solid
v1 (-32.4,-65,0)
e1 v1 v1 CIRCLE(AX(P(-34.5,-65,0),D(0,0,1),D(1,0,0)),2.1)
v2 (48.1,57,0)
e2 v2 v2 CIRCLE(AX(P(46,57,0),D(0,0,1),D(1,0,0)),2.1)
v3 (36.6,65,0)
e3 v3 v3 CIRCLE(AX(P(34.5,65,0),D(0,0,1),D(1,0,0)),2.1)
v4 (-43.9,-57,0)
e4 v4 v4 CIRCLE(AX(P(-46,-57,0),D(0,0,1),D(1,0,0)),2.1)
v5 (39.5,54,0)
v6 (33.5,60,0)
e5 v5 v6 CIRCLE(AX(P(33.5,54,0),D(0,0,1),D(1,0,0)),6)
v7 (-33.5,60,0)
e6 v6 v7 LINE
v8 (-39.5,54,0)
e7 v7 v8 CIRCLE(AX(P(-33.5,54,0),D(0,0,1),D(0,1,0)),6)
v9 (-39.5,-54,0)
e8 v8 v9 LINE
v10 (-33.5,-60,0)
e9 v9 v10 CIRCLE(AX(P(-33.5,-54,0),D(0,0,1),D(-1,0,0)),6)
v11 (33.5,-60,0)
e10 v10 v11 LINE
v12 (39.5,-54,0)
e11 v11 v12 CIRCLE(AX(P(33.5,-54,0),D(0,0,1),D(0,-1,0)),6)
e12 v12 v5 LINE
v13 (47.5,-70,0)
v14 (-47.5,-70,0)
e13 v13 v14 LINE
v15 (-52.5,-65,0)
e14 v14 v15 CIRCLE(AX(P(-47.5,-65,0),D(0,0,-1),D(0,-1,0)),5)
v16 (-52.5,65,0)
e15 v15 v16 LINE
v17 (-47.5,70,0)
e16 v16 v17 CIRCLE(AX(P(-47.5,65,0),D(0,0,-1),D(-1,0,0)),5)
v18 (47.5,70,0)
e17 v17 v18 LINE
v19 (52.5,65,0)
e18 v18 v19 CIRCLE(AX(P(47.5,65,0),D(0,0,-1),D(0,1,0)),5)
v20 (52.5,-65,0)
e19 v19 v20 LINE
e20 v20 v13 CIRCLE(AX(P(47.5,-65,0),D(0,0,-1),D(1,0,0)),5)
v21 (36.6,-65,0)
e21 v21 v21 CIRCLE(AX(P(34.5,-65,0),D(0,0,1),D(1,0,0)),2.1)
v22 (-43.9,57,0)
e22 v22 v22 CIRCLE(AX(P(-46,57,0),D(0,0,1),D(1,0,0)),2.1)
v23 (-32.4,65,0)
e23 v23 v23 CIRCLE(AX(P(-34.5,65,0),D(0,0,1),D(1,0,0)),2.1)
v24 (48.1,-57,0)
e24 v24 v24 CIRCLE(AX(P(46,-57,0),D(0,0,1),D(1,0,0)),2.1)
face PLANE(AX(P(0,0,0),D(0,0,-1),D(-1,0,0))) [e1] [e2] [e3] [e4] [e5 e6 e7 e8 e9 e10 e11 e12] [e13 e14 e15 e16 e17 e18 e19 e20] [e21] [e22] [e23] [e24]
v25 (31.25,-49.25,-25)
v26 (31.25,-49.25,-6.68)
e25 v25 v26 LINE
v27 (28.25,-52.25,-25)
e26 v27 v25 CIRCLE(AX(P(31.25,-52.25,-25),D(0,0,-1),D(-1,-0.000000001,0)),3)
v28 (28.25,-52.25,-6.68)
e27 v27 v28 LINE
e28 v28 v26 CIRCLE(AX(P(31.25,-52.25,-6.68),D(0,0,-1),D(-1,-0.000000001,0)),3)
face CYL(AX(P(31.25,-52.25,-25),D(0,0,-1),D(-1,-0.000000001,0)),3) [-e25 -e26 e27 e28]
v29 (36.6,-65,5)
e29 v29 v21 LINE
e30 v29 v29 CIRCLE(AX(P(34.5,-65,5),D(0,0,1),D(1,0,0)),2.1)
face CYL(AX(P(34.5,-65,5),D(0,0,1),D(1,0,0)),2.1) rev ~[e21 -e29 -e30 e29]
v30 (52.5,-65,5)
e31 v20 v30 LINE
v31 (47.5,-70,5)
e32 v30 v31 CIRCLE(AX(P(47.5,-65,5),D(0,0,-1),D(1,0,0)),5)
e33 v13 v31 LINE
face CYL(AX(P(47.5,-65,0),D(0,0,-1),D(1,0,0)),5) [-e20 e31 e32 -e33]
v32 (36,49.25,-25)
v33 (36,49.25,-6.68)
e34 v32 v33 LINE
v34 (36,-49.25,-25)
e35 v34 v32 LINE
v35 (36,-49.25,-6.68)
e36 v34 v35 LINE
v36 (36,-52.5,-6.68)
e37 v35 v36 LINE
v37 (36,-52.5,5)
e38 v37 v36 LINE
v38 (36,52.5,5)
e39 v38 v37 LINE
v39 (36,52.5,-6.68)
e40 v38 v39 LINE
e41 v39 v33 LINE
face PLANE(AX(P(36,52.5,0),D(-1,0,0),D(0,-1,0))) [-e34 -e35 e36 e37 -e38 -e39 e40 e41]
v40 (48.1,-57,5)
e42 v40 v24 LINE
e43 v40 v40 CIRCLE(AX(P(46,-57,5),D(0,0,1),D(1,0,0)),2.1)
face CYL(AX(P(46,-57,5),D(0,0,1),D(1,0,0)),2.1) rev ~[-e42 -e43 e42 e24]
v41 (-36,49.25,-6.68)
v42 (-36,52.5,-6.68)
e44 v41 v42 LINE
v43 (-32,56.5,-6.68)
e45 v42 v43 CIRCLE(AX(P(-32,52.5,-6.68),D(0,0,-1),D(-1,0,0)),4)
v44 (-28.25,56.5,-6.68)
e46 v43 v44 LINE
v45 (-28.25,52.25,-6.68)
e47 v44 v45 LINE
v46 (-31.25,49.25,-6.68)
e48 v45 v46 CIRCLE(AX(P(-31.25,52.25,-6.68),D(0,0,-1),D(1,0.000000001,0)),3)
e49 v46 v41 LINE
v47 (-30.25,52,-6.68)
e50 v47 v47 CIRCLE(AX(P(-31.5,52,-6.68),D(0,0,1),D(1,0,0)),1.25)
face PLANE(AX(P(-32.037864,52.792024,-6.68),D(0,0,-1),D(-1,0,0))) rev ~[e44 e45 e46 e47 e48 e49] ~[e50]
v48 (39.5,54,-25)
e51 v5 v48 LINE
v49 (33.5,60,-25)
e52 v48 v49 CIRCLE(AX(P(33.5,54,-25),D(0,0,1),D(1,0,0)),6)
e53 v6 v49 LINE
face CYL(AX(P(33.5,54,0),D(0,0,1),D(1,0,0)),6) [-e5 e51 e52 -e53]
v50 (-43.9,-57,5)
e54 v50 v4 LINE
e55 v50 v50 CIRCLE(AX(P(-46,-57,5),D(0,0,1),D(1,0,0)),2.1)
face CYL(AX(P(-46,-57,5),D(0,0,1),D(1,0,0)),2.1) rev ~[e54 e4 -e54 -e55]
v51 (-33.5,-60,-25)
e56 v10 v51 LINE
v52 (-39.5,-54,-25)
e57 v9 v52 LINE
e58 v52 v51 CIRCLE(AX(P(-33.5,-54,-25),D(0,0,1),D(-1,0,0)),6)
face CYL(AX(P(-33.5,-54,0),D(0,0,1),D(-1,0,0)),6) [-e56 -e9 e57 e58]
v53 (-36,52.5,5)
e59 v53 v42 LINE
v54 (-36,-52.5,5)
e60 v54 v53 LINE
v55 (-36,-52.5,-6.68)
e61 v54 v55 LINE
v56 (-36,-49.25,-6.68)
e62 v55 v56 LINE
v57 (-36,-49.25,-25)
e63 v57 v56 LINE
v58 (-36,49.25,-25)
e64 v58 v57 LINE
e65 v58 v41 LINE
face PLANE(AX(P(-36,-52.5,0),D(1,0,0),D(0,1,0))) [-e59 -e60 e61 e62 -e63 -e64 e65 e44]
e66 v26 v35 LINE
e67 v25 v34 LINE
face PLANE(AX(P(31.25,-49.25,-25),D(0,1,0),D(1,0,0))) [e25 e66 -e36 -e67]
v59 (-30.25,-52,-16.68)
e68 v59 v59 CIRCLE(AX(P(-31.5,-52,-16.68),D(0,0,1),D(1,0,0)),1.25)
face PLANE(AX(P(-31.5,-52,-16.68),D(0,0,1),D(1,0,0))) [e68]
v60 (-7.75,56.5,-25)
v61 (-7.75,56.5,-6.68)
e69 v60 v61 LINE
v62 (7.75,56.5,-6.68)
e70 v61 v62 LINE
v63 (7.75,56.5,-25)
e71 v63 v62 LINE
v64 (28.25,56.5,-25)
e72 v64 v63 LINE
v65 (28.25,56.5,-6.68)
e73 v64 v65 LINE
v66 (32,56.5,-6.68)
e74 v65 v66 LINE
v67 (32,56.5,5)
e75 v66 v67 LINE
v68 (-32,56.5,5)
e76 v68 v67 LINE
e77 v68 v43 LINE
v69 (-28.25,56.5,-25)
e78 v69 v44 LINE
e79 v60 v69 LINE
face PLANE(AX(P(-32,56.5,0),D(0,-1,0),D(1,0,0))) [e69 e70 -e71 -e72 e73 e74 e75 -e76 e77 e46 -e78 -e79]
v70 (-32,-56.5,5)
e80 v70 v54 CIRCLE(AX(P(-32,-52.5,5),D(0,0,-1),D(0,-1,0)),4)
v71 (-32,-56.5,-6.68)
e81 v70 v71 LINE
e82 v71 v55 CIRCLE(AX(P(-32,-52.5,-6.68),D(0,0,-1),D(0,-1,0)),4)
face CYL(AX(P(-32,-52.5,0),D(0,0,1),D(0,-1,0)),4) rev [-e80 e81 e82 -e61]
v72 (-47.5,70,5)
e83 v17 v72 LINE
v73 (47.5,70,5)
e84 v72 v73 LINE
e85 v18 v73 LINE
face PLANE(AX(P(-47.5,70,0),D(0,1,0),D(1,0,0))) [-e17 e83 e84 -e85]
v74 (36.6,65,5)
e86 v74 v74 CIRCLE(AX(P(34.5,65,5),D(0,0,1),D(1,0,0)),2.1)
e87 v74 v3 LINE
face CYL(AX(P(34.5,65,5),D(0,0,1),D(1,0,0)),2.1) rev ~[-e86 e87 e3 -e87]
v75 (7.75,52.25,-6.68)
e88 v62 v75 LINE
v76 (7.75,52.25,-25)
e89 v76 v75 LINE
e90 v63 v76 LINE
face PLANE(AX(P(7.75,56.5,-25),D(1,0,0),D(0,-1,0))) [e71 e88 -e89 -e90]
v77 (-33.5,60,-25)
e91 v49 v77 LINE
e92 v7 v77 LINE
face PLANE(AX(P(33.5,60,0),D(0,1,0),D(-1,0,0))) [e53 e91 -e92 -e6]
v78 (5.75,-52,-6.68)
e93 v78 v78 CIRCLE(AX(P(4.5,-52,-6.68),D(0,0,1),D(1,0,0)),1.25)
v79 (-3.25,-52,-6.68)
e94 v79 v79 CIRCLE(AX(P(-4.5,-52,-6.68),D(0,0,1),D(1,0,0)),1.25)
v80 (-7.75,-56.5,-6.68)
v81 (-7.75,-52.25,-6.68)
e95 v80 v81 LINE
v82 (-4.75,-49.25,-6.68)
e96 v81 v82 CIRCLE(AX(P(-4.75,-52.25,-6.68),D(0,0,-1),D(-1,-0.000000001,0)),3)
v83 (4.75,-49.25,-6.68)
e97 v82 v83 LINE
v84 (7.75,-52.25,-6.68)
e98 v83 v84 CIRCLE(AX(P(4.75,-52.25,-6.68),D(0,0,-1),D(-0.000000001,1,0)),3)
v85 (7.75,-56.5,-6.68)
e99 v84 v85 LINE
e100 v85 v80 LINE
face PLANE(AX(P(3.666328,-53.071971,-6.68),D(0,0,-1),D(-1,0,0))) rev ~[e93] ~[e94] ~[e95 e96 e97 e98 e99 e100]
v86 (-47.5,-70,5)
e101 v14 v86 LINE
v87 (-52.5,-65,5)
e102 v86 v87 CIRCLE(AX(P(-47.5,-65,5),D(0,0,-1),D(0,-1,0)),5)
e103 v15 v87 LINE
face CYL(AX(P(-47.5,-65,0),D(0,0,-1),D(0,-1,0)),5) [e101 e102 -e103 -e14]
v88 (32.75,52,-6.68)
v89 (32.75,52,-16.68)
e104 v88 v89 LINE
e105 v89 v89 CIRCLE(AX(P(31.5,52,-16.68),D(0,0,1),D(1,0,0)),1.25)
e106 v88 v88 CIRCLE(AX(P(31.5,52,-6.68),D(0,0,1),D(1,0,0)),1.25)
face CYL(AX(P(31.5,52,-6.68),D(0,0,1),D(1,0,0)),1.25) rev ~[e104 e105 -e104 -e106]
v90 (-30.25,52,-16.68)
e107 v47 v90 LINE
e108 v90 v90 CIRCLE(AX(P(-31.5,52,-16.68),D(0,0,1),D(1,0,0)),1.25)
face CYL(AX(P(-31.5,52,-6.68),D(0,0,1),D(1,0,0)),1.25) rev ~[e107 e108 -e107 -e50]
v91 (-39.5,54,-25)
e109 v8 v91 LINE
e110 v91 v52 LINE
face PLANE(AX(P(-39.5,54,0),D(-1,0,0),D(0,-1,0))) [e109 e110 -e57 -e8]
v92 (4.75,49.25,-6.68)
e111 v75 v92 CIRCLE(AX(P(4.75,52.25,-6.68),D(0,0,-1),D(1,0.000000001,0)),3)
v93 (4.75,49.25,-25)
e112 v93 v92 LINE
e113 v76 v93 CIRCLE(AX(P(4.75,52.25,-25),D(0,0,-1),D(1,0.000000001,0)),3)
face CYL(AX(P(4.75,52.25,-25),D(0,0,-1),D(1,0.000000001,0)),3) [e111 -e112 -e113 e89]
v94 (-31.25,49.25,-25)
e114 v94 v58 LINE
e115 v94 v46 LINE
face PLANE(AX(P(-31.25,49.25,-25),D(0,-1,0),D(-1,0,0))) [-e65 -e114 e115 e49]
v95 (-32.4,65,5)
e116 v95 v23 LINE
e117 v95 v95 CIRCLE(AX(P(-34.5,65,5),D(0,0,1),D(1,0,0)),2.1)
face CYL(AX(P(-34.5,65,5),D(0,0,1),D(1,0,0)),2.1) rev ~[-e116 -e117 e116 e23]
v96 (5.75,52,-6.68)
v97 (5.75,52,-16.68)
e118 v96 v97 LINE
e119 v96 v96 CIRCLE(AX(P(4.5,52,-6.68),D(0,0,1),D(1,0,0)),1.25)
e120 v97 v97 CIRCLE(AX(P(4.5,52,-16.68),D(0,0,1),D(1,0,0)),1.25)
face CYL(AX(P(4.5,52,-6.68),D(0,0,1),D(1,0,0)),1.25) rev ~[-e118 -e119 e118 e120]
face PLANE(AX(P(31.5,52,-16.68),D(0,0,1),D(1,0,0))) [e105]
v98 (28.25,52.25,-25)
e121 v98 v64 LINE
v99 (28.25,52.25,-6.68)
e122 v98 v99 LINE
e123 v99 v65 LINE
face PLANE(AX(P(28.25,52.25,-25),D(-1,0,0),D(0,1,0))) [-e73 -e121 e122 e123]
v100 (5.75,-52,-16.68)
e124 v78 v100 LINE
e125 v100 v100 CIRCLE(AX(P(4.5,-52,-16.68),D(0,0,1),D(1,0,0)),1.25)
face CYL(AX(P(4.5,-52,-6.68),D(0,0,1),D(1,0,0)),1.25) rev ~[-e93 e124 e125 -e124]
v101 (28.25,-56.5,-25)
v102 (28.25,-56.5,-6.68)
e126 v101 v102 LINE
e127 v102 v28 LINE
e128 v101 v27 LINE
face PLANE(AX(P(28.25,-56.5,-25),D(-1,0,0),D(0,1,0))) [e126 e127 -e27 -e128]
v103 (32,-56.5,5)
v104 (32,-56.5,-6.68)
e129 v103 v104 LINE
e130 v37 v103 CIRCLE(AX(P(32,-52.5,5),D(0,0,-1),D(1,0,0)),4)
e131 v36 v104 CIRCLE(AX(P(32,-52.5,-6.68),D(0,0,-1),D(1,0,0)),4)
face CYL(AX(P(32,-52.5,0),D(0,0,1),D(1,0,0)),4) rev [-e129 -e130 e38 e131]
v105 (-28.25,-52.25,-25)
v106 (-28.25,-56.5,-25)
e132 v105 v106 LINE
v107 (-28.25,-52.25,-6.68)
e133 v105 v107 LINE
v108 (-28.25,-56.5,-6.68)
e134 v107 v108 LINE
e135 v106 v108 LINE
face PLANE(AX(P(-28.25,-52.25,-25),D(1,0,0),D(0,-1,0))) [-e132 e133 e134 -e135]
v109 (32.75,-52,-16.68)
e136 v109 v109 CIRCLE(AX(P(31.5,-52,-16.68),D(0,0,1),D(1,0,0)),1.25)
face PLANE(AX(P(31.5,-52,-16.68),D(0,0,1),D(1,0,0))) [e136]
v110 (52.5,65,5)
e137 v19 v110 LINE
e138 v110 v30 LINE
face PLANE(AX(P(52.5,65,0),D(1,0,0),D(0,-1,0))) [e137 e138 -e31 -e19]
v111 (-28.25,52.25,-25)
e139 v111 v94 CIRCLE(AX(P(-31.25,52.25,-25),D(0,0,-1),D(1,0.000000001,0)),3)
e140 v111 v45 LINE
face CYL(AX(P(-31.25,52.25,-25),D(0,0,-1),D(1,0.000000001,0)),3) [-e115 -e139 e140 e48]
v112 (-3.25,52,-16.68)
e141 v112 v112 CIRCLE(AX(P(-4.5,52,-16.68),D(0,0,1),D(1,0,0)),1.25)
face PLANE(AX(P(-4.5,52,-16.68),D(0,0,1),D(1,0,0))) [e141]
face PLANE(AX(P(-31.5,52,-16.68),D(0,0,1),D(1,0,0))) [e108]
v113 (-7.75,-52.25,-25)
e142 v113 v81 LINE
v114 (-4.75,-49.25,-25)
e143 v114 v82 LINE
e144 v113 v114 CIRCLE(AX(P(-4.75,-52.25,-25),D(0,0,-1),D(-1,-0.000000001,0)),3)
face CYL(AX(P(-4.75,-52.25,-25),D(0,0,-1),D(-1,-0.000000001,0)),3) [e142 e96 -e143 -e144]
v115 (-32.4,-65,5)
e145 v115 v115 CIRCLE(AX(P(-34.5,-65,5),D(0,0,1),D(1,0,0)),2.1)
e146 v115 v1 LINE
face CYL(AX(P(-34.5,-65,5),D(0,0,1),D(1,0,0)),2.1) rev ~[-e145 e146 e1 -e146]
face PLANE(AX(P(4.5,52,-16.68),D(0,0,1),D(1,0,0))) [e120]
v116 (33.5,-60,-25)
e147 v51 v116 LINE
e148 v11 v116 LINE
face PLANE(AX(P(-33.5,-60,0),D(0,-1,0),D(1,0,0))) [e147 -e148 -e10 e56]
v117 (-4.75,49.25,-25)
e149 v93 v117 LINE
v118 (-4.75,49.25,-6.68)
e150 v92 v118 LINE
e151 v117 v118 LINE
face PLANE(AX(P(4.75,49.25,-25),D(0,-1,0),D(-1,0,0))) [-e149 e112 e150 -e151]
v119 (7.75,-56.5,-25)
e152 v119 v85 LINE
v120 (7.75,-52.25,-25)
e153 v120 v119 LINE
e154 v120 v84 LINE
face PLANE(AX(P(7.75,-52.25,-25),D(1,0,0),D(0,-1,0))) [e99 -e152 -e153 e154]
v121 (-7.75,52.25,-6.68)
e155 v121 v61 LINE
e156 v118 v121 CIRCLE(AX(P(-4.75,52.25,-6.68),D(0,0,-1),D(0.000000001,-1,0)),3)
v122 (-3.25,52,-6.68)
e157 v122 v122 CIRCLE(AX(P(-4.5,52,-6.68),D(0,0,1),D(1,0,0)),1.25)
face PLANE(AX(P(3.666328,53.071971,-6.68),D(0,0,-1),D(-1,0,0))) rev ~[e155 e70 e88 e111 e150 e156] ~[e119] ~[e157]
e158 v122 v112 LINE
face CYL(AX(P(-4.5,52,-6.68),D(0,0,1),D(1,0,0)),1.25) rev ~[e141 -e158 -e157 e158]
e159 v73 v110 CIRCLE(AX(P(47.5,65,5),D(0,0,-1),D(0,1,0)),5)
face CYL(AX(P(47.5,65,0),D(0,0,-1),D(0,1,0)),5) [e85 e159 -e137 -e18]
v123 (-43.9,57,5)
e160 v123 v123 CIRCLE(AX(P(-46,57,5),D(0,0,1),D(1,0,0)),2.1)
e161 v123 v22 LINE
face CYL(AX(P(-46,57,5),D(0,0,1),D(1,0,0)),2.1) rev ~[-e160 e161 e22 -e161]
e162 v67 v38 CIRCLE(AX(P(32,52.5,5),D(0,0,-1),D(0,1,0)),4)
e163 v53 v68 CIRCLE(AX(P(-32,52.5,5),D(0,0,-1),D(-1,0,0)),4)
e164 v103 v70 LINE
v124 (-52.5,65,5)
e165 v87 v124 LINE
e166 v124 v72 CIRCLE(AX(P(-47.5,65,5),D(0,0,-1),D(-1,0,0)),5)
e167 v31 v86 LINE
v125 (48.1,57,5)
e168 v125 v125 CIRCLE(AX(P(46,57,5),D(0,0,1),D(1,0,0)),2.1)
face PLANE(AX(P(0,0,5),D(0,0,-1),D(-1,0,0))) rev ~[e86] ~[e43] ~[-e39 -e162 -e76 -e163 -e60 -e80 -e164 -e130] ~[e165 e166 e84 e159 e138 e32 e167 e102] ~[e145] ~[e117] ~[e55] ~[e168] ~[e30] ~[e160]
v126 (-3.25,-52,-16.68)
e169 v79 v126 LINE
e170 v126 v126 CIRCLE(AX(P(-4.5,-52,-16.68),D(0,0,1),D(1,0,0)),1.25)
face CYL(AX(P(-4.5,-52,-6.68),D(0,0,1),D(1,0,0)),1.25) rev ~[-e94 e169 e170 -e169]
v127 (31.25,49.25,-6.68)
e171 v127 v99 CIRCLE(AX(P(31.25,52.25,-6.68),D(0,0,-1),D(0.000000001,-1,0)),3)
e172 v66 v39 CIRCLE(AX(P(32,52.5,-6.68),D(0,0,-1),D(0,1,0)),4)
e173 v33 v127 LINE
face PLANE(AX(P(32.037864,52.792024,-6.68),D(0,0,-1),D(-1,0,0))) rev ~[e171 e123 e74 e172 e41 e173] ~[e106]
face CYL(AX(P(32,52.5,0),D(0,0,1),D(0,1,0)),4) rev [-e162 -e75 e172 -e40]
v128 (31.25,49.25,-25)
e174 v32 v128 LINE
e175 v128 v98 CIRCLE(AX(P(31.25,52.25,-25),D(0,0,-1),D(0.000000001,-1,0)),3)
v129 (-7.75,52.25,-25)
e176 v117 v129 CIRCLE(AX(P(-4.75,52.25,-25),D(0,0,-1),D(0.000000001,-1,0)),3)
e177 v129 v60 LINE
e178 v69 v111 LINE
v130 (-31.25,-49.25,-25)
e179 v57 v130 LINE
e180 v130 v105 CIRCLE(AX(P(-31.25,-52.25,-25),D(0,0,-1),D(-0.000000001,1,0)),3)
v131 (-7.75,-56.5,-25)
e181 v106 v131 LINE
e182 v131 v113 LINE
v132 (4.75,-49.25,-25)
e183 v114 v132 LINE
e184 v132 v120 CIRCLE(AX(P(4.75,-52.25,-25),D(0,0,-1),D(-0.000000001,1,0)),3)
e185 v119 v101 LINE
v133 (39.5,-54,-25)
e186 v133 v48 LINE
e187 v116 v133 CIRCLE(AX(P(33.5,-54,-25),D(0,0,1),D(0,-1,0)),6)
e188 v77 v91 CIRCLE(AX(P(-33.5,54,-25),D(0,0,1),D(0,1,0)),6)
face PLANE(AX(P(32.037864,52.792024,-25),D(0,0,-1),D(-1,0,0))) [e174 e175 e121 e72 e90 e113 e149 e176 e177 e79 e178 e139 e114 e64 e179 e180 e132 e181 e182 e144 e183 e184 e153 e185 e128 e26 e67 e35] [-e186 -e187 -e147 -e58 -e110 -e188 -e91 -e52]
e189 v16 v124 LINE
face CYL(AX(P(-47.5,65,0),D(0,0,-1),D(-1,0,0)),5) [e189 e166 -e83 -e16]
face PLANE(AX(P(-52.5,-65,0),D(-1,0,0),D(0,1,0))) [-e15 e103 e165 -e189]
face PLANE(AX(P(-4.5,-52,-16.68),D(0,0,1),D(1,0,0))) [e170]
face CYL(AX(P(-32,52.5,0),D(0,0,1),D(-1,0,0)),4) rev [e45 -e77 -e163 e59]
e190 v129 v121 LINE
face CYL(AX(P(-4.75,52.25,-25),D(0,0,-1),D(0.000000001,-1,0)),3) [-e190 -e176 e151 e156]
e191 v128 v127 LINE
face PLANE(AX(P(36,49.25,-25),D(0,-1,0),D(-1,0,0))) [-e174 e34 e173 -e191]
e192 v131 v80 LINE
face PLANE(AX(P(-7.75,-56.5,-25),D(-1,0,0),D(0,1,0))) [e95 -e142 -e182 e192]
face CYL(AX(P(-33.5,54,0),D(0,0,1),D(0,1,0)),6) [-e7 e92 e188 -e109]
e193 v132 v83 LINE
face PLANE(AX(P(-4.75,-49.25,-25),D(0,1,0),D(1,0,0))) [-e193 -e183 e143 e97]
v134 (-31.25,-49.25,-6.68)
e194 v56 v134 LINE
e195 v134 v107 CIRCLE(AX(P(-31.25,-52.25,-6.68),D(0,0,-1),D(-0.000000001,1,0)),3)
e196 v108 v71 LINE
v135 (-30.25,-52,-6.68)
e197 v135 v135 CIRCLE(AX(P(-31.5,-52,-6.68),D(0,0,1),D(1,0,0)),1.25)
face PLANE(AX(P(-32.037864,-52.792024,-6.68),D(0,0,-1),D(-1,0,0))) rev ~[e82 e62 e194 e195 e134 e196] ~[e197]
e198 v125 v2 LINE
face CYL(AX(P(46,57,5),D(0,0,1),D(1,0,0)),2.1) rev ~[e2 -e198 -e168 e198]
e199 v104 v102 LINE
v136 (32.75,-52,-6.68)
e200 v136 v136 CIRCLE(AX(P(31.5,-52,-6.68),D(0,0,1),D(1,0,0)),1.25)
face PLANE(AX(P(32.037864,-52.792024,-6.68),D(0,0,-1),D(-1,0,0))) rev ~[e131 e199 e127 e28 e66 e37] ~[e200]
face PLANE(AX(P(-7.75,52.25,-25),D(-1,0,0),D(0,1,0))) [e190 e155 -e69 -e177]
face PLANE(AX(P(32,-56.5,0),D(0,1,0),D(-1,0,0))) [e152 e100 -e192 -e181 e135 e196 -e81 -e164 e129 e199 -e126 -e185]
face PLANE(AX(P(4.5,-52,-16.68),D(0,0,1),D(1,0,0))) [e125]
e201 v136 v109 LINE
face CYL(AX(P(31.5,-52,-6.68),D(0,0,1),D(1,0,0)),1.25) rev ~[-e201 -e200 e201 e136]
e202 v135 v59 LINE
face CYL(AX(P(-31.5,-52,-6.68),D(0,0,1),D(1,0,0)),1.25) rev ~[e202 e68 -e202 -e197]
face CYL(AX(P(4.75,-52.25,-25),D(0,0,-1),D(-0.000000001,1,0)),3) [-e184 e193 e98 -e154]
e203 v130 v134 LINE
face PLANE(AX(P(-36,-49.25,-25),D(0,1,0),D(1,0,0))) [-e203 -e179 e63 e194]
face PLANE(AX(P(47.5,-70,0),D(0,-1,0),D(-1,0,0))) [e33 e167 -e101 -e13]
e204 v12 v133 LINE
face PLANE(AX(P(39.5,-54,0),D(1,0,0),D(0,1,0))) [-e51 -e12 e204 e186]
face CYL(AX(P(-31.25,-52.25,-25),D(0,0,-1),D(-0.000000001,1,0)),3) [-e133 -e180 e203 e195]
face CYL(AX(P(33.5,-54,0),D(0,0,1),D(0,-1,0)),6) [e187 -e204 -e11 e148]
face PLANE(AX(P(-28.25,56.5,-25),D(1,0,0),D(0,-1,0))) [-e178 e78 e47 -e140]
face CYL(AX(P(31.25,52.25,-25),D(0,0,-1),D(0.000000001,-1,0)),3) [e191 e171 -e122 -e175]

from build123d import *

# Parameters (mm, degrees)
BOSS_EXTRUDE1_DEPTH = 5
BOSS_EXTRUDE2_DEPTH = 25
CUT_EXTRUDE1_REACH  = 32
SKETCH4_R           = 2.1
CUT_EXTRUDE2_REACH  = 27
BOSS_EXTRUDE4_DEPTH = 18.32
SKETCH9_R           = 1.25
CUT_EXTRUDE3_DEPTH  = 10
CUT_EXTRUDE4_REACH  = 32
SKETCH10_R          = 2.1


with BuildPart() as part:
    # Sketch1 → Boss-Extrude1 (new body)
    with BuildSketch(Plane.XY):
        with BuildLine():
            Line((-47.5, 70), (47.5, 70))
            ThreePointArc((47.5, 70), (51.035533906, 68.535533906), (52.5, 65))
            Line((52.5, 65), (52.5, -65))
            ThreePointArc((52.5, -65), (51.035533906, -68.535533906), (47.5, -70))
            Line((47.5, -70), (-47.5, -70))
            ThreePointArc((-47.5, -70), (-51.035533906, -68.535533906), (-52.5, -65))
            Line((-52.5, -65), (-52.5, 65))
            ThreePointArc((-52.5, 65), (-51.035533906, 68.535533906), (-47.5, 70))
        make_face()
        with BuildLine():
            Line((-32, 56.5), (32, 56.5))
            ThreePointArc((32, 56.5), (34.828427125, 55.328427125), (36, 52.5))
            Line((36, 52.5), (36, -52.5))
            ThreePointArc((36, -52.5), (34.828427125, -55.328427125), (32, -56.5))
            Line((32, -56.5), (-32, -56.5))
            ThreePointArc((-32, -56.5), (-34.828427125, -55.328427125), (-36, -52.5))
            Line((-36, -52.5), (-36, 52.5))
            ThreePointArc((-36, 52.5), (-34.828427125, 55.328427125), (-32, 56.5))
        make_face(mode=Mode.SUBTRACT)
    extrude(amount=BOSS_EXTRUDE1_DEPTH)

    # Sketch2 → Boss-Extrude2 (add)
    with BuildSketch(Plane(origin=(0, 0, 0), x_dir=(-1, 0, 0), z_dir=(0, 0, -1))):
        with BuildLine():
            Line((-33.5, 60), (33.5, 60))
            ThreePointArc((33.5, 60), (37.742640687, 58.242640687), (39.5, 54))
            Line((39.5, 54), (39.5, -54))
            ThreePointArc((39.5, -54), (37.742640687, -58.242640687), (33.5, -60))
            Line((33.5, -60), (-33.5, -60))
            ThreePointArc((-33.5, -60), (-37.742640687, -58.242640687), (-39.5, -54))
            Line((-39.5, -54), (-39.5, 54))
            ThreePointArc((-39.5, 54), (-37.742640687, 58.242640687), (-33.5, 60))
        make_face()
    extrude(amount=BOSS_EXTRUDE2_DEPTH)

    # Sketch4 → Cut-Extrude1 (cut, up to next)
    with BuildSketch(Plane.XY.offset(5), mode=Mode.PRIVATE) as cut_extrude1_sk1:
        with Locations((34.5, 65)):
            Circle(SKETCH4_R)
    cut_extrude1_tool1 = extrude(cut_extrude1_sk1.sketch, amount=-CUT_EXTRUDE1_REACH, mode=Mode.PRIVATE) & part.part
    add(cut_extrude1_tool1.solids().sort_by_distance((34.5, 65, 5))[0], mode=Mode.SUBTRACT)
    # Sketch4 → Cut-Extrude1 (cut, up to next)
    with BuildSketch(Plane.XY.offset(5), mode=Mode.PRIVATE) as cut_extrude1_sk2:
        with Locations((-34.5, 65)):
            Circle(SKETCH4_R)
    cut_extrude1_tool2 = extrude(cut_extrude1_sk2.sketch, amount=-CUT_EXTRUDE1_REACH, mode=Mode.PRIVATE) & part.part
    add(cut_extrude1_tool2.solids().sort_by_distance((-34.5, 65, 5))[0], mode=Mode.SUBTRACT)
    # Sketch4 → Cut-Extrude1 (cut, up to next)
    with BuildSketch(Plane.XY.offset(5), mode=Mode.PRIVATE) as cut_extrude1_sk3:
        with Locations((-34.5, -65)):
            Circle(SKETCH4_R)
    cut_extrude1_tool3 = extrude(cut_extrude1_sk3.sketch, amount=-CUT_EXTRUDE1_REACH, mode=Mode.PRIVATE) & part.part
    add(cut_extrude1_tool3.solids().sort_by_distance((-34.5, -65, 5))[0], mode=Mode.SUBTRACT)
    # Sketch4 → Cut-Extrude1 (cut, up to next)
    with BuildSketch(Plane.XY.offset(5), mode=Mode.PRIVATE) as cut_extrude1_sk4:
        with Locations((34.5, -65)):
            Circle(SKETCH4_R)
    cut_extrude1_tool4 = extrude(cut_extrude1_sk4.sketch, amount=-CUT_EXTRUDE1_REACH, mode=Mode.PRIVATE) & part.part
    add(cut_extrude1_tool4.solids().sort_by_distance((34.5, -65, 5))[0], mode=Mode.SUBTRACT)

    # Sketch5 → Cut-Extrude2 (cut, up to next)
    with BuildSketch(Plane.XY, mode=Mode.PRIVATE) as cut_extrude2_sk1:
        with BuildLine():
            Line((-32, 56.5), (32, 56.5))
            ThreePointArc((32, 56.5), (34.828427125, 55.328427125), (36, 52.5))
            Line((36, 52.5), (36, -52.5))
            ThreePointArc((36, -52.5), (34.828427125, -55.328427125), (32, -56.5))
            Line((32, -56.5), (-32, -56.5))
            ThreePointArc((-32, -56.5), (-34.828427125, -55.328427125), (-36, -52.5))
            Line((-36, -52.5), (-36, 52.5))
            ThreePointArc((-36, 52.5), (-34.828427125, 55.328427125), (-32, 56.5))
        make_face()
    cut_extrude2_tool1 = extrude(cut_extrude2_sk1.sketch, amount=-CUT_EXTRUDE2_REACH, mode=Mode.PRIVATE) & part.part
    add(cut_extrude2_tool1.solids().sort_by_distance((0, 0, 0))[0], mode=Mode.SUBTRACT)

    # Sketch8 → Boss-Extrude4 (add)
    with BuildSketch(Plane(origin=(0, 0, -25), x_dir=(-1, 0, 0), z_dir=(0, 0, -1))):
        with BuildLine():
            Line((-28.25, 52.25), (-28.25, 56.5))
            Line((-28.25, 56.5), (-32, 56.5))
            ThreePointArc((-32, 56.5), (-34.828427125, 55.328427125), (-36, 52.5))
            Line((-36, 52.5), (-36, 49.25))
            Line((-36, 49.25), (-31.25, 49.25))
            ThreePointArc((-31.25, 49.25), (-29.128679656, 50.128679656), (-28.25, 52.25))
        make_face()
        with BuildLine():
            Line((0, 49.25), (0, 56.5))
            Line((0, 56.5), (-7.75, 56.5))
            Line((-7.75, 56.5), (-7.75, 52.25))
            ThreePointArc((-7.75, 52.25), (-6.871320344, 50.128679656), (-4.75, 49.25))
            Line((-4.75, 49.25), (0, 49.25))
        make_face()
        with BuildLine():
            Line((7.75, 52.25), (7.75, 56.5))
            Line((7.75, 56.5), (0, 56.5))
            Line((0, 56.5), (0, 49.25))
            Line((0, 49.25), (4.75, 49.25))
            ThreePointArc((4.75, 49.25), (6.871320344, 50.128679656), (7.75, 52.25))
        make_face()
        with BuildLine():
            Line((28.25, 56.5), (28.25, 52.25))
            ThreePointArc((28.25, 52.25), (29.128679656, 50.128679656), (31.25, 49.25))
            Line((31.25, 49.25), (36, 49.25))
            Line((36, 49.25), (36, 52.5))
            ThreePointArc((36, 52.5), (34.828427125, 55.328427125), (32, 56.5))
            Line((32, 56.5), (28.25, 56.5))
        make_face()
        with BuildLine():
            Line((-31.25, -49.25), (-36, -49.25))
            Line((-36, -49.25), (-36, -52.5))
            ThreePointArc((-36, -52.5), (-34.828427125, -55.328427125), (-32, -56.5))
            Line((-32, -56.5), (-28.25, -56.5))
            Line((-28.25, -56.5), (-28.25, -52.25))
            ThreePointArc((-28.25, -52.25), (-29.128679656, -50.128679656), (-31.25, -49.25))
        make_face()
        with BuildLine():
            Line((-7.75, -56.5), (0, -56.5))
            Line((0, -56.5), (0, -49.25))
            Line((0, -49.25), (-4.75, -49.25))
            ThreePointArc((-4.75, -49.25), (-6.871320344, -50.128679656), (-7.75, -52.25))
            Line((-7.75, -52.25), (-7.75, -56.5))
        make_face()
        with BuildLine():
            Line((0, -56.5), (7.75, -56.5))
            Line((7.75, -56.5), (7.75, -52.25))
            ThreePointArc((7.75, -52.25), (6.871320344, -50.128679656), (4.75, -49.25))
            Line((4.75, -49.25), (0, -49.25))
            Line((0, -49.25), (0, -56.5))
        make_face()
        with BuildLine():
            Line((36, -52.5), (36, -49.25))
            Line((36, -49.25), (31.25, -49.25))
            ThreePointArc((31.25, -49.25), (29.128679656, -50.128679656), (28.25, -52.25))
            Line((28.25, -52.25), (28.25, -56.5))
            Line((28.25, -56.5), (32, -56.5))
            ThreePointArc((32, -56.5), (34.828427125, -55.328427125), (36, -52.5))
        make_face()
    extrude(amount=-BOSS_EXTRUDE4_DEPTH)

    # Sketch9 → Cut-Extrude3 (cut)
    with BuildSketch(Plane.XY.offset(-6.68)):
        with Locations((-4.5, 52)):
            Circle(SKETCH9_R)
        with Locations((-31.5, 52)):
            Circle(SKETCH9_R)
        with Locations((31.5, 52)):
            Circle(SKETCH9_R)
        with Locations((4.5, 52)):
            Circle(SKETCH9_R)
        with Locations((4.5, -52)):
            Circle(SKETCH9_R)
        with Locations((31.5, -52)):
            Circle(SKETCH9_R)
        with Locations((-31.5, -52)):
            Circle(SKETCH9_R)
        with Locations((-4.5, -52)):
            Circle(SKETCH9_R)
    extrude(amount=-CUT_EXTRUDE3_DEPTH, mode=Mode.SUBTRACT)

    # Sketch10 → Cut-Extrude4 (cut, up to next)
    with BuildSketch(Plane.XY.offset(5), mode=Mode.PRIVATE) as cut_extrude4_sk1:
        with Locations((-46, 57)):
            Circle(SKETCH10_R)
    cut_extrude4_tool1 = extrude(cut_extrude4_sk1.sketch, amount=-CUT_EXTRUDE4_REACH, mode=Mode.PRIVATE) & part.part
    add(cut_extrude4_tool1.solids().sort_by_distance((-46, 57, 5))[0], mode=Mode.SUBTRACT)
    # Sketch10 → Cut-Extrude4 (cut, up to next)
    with BuildSketch(Plane.XY.offset(5), mode=Mode.PRIVATE) as cut_extrude4_sk2:
        with Locations((46, 57)):
            Circle(SKETCH10_R)
    cut_extrude4_tool2 = extrude(cut_extrude4_sk2.sketch, amount=-CUT_EXTRUDE4_REACH, mode=Mode.PRIVATE) & part.part
    add(cut_extrude4_tool2.solids().sort_by_distance((46, 57, 5))[0], mode=Mode.SUBTRACT)
    # Sketch10 → Cut-Extrude4 (cut, up to next)
    with BuildSketch(Plane.XY.offset(5), mode=Mode.PRIVATE) as cut_extrude4_sk3:
        with Locations((46, -57)):
            Circle(SKETCH10_R)
    cut_extrude4_tool3 = extrude(cut_extrude4_sk3.sketch, amount=-CUT_EXTRUDE4_REACH, mode=Mode.PRIVATE) & part.part
    add(cut_extrude4_tool3.solids().sort_by_distance((46, -57, 5))[0], mode=Mode.SUBTRACT)
    # Sketch10 → Cut-Extrude4 (cut, up to next)
    with BuildSketch(Plane.XY.offset(5), mode=Mode.PRIVATE) as cut_extrude4_sk4:
        with Locations((-46, -57)):
            Circle(SKETCH10_R)
    cut_extrude4_tool4 = extrude(cut_extrude4_sk4.sketch, amount=-CUT_EXTRUDE4_REACH, mode=Mode.PRIVATE) & part.part
    add(cut_extrude4_tool4.solids().sort_by_distance((-46, -57, 5))[0], mode=Mode.SUBTRACT)


solid = part.part
